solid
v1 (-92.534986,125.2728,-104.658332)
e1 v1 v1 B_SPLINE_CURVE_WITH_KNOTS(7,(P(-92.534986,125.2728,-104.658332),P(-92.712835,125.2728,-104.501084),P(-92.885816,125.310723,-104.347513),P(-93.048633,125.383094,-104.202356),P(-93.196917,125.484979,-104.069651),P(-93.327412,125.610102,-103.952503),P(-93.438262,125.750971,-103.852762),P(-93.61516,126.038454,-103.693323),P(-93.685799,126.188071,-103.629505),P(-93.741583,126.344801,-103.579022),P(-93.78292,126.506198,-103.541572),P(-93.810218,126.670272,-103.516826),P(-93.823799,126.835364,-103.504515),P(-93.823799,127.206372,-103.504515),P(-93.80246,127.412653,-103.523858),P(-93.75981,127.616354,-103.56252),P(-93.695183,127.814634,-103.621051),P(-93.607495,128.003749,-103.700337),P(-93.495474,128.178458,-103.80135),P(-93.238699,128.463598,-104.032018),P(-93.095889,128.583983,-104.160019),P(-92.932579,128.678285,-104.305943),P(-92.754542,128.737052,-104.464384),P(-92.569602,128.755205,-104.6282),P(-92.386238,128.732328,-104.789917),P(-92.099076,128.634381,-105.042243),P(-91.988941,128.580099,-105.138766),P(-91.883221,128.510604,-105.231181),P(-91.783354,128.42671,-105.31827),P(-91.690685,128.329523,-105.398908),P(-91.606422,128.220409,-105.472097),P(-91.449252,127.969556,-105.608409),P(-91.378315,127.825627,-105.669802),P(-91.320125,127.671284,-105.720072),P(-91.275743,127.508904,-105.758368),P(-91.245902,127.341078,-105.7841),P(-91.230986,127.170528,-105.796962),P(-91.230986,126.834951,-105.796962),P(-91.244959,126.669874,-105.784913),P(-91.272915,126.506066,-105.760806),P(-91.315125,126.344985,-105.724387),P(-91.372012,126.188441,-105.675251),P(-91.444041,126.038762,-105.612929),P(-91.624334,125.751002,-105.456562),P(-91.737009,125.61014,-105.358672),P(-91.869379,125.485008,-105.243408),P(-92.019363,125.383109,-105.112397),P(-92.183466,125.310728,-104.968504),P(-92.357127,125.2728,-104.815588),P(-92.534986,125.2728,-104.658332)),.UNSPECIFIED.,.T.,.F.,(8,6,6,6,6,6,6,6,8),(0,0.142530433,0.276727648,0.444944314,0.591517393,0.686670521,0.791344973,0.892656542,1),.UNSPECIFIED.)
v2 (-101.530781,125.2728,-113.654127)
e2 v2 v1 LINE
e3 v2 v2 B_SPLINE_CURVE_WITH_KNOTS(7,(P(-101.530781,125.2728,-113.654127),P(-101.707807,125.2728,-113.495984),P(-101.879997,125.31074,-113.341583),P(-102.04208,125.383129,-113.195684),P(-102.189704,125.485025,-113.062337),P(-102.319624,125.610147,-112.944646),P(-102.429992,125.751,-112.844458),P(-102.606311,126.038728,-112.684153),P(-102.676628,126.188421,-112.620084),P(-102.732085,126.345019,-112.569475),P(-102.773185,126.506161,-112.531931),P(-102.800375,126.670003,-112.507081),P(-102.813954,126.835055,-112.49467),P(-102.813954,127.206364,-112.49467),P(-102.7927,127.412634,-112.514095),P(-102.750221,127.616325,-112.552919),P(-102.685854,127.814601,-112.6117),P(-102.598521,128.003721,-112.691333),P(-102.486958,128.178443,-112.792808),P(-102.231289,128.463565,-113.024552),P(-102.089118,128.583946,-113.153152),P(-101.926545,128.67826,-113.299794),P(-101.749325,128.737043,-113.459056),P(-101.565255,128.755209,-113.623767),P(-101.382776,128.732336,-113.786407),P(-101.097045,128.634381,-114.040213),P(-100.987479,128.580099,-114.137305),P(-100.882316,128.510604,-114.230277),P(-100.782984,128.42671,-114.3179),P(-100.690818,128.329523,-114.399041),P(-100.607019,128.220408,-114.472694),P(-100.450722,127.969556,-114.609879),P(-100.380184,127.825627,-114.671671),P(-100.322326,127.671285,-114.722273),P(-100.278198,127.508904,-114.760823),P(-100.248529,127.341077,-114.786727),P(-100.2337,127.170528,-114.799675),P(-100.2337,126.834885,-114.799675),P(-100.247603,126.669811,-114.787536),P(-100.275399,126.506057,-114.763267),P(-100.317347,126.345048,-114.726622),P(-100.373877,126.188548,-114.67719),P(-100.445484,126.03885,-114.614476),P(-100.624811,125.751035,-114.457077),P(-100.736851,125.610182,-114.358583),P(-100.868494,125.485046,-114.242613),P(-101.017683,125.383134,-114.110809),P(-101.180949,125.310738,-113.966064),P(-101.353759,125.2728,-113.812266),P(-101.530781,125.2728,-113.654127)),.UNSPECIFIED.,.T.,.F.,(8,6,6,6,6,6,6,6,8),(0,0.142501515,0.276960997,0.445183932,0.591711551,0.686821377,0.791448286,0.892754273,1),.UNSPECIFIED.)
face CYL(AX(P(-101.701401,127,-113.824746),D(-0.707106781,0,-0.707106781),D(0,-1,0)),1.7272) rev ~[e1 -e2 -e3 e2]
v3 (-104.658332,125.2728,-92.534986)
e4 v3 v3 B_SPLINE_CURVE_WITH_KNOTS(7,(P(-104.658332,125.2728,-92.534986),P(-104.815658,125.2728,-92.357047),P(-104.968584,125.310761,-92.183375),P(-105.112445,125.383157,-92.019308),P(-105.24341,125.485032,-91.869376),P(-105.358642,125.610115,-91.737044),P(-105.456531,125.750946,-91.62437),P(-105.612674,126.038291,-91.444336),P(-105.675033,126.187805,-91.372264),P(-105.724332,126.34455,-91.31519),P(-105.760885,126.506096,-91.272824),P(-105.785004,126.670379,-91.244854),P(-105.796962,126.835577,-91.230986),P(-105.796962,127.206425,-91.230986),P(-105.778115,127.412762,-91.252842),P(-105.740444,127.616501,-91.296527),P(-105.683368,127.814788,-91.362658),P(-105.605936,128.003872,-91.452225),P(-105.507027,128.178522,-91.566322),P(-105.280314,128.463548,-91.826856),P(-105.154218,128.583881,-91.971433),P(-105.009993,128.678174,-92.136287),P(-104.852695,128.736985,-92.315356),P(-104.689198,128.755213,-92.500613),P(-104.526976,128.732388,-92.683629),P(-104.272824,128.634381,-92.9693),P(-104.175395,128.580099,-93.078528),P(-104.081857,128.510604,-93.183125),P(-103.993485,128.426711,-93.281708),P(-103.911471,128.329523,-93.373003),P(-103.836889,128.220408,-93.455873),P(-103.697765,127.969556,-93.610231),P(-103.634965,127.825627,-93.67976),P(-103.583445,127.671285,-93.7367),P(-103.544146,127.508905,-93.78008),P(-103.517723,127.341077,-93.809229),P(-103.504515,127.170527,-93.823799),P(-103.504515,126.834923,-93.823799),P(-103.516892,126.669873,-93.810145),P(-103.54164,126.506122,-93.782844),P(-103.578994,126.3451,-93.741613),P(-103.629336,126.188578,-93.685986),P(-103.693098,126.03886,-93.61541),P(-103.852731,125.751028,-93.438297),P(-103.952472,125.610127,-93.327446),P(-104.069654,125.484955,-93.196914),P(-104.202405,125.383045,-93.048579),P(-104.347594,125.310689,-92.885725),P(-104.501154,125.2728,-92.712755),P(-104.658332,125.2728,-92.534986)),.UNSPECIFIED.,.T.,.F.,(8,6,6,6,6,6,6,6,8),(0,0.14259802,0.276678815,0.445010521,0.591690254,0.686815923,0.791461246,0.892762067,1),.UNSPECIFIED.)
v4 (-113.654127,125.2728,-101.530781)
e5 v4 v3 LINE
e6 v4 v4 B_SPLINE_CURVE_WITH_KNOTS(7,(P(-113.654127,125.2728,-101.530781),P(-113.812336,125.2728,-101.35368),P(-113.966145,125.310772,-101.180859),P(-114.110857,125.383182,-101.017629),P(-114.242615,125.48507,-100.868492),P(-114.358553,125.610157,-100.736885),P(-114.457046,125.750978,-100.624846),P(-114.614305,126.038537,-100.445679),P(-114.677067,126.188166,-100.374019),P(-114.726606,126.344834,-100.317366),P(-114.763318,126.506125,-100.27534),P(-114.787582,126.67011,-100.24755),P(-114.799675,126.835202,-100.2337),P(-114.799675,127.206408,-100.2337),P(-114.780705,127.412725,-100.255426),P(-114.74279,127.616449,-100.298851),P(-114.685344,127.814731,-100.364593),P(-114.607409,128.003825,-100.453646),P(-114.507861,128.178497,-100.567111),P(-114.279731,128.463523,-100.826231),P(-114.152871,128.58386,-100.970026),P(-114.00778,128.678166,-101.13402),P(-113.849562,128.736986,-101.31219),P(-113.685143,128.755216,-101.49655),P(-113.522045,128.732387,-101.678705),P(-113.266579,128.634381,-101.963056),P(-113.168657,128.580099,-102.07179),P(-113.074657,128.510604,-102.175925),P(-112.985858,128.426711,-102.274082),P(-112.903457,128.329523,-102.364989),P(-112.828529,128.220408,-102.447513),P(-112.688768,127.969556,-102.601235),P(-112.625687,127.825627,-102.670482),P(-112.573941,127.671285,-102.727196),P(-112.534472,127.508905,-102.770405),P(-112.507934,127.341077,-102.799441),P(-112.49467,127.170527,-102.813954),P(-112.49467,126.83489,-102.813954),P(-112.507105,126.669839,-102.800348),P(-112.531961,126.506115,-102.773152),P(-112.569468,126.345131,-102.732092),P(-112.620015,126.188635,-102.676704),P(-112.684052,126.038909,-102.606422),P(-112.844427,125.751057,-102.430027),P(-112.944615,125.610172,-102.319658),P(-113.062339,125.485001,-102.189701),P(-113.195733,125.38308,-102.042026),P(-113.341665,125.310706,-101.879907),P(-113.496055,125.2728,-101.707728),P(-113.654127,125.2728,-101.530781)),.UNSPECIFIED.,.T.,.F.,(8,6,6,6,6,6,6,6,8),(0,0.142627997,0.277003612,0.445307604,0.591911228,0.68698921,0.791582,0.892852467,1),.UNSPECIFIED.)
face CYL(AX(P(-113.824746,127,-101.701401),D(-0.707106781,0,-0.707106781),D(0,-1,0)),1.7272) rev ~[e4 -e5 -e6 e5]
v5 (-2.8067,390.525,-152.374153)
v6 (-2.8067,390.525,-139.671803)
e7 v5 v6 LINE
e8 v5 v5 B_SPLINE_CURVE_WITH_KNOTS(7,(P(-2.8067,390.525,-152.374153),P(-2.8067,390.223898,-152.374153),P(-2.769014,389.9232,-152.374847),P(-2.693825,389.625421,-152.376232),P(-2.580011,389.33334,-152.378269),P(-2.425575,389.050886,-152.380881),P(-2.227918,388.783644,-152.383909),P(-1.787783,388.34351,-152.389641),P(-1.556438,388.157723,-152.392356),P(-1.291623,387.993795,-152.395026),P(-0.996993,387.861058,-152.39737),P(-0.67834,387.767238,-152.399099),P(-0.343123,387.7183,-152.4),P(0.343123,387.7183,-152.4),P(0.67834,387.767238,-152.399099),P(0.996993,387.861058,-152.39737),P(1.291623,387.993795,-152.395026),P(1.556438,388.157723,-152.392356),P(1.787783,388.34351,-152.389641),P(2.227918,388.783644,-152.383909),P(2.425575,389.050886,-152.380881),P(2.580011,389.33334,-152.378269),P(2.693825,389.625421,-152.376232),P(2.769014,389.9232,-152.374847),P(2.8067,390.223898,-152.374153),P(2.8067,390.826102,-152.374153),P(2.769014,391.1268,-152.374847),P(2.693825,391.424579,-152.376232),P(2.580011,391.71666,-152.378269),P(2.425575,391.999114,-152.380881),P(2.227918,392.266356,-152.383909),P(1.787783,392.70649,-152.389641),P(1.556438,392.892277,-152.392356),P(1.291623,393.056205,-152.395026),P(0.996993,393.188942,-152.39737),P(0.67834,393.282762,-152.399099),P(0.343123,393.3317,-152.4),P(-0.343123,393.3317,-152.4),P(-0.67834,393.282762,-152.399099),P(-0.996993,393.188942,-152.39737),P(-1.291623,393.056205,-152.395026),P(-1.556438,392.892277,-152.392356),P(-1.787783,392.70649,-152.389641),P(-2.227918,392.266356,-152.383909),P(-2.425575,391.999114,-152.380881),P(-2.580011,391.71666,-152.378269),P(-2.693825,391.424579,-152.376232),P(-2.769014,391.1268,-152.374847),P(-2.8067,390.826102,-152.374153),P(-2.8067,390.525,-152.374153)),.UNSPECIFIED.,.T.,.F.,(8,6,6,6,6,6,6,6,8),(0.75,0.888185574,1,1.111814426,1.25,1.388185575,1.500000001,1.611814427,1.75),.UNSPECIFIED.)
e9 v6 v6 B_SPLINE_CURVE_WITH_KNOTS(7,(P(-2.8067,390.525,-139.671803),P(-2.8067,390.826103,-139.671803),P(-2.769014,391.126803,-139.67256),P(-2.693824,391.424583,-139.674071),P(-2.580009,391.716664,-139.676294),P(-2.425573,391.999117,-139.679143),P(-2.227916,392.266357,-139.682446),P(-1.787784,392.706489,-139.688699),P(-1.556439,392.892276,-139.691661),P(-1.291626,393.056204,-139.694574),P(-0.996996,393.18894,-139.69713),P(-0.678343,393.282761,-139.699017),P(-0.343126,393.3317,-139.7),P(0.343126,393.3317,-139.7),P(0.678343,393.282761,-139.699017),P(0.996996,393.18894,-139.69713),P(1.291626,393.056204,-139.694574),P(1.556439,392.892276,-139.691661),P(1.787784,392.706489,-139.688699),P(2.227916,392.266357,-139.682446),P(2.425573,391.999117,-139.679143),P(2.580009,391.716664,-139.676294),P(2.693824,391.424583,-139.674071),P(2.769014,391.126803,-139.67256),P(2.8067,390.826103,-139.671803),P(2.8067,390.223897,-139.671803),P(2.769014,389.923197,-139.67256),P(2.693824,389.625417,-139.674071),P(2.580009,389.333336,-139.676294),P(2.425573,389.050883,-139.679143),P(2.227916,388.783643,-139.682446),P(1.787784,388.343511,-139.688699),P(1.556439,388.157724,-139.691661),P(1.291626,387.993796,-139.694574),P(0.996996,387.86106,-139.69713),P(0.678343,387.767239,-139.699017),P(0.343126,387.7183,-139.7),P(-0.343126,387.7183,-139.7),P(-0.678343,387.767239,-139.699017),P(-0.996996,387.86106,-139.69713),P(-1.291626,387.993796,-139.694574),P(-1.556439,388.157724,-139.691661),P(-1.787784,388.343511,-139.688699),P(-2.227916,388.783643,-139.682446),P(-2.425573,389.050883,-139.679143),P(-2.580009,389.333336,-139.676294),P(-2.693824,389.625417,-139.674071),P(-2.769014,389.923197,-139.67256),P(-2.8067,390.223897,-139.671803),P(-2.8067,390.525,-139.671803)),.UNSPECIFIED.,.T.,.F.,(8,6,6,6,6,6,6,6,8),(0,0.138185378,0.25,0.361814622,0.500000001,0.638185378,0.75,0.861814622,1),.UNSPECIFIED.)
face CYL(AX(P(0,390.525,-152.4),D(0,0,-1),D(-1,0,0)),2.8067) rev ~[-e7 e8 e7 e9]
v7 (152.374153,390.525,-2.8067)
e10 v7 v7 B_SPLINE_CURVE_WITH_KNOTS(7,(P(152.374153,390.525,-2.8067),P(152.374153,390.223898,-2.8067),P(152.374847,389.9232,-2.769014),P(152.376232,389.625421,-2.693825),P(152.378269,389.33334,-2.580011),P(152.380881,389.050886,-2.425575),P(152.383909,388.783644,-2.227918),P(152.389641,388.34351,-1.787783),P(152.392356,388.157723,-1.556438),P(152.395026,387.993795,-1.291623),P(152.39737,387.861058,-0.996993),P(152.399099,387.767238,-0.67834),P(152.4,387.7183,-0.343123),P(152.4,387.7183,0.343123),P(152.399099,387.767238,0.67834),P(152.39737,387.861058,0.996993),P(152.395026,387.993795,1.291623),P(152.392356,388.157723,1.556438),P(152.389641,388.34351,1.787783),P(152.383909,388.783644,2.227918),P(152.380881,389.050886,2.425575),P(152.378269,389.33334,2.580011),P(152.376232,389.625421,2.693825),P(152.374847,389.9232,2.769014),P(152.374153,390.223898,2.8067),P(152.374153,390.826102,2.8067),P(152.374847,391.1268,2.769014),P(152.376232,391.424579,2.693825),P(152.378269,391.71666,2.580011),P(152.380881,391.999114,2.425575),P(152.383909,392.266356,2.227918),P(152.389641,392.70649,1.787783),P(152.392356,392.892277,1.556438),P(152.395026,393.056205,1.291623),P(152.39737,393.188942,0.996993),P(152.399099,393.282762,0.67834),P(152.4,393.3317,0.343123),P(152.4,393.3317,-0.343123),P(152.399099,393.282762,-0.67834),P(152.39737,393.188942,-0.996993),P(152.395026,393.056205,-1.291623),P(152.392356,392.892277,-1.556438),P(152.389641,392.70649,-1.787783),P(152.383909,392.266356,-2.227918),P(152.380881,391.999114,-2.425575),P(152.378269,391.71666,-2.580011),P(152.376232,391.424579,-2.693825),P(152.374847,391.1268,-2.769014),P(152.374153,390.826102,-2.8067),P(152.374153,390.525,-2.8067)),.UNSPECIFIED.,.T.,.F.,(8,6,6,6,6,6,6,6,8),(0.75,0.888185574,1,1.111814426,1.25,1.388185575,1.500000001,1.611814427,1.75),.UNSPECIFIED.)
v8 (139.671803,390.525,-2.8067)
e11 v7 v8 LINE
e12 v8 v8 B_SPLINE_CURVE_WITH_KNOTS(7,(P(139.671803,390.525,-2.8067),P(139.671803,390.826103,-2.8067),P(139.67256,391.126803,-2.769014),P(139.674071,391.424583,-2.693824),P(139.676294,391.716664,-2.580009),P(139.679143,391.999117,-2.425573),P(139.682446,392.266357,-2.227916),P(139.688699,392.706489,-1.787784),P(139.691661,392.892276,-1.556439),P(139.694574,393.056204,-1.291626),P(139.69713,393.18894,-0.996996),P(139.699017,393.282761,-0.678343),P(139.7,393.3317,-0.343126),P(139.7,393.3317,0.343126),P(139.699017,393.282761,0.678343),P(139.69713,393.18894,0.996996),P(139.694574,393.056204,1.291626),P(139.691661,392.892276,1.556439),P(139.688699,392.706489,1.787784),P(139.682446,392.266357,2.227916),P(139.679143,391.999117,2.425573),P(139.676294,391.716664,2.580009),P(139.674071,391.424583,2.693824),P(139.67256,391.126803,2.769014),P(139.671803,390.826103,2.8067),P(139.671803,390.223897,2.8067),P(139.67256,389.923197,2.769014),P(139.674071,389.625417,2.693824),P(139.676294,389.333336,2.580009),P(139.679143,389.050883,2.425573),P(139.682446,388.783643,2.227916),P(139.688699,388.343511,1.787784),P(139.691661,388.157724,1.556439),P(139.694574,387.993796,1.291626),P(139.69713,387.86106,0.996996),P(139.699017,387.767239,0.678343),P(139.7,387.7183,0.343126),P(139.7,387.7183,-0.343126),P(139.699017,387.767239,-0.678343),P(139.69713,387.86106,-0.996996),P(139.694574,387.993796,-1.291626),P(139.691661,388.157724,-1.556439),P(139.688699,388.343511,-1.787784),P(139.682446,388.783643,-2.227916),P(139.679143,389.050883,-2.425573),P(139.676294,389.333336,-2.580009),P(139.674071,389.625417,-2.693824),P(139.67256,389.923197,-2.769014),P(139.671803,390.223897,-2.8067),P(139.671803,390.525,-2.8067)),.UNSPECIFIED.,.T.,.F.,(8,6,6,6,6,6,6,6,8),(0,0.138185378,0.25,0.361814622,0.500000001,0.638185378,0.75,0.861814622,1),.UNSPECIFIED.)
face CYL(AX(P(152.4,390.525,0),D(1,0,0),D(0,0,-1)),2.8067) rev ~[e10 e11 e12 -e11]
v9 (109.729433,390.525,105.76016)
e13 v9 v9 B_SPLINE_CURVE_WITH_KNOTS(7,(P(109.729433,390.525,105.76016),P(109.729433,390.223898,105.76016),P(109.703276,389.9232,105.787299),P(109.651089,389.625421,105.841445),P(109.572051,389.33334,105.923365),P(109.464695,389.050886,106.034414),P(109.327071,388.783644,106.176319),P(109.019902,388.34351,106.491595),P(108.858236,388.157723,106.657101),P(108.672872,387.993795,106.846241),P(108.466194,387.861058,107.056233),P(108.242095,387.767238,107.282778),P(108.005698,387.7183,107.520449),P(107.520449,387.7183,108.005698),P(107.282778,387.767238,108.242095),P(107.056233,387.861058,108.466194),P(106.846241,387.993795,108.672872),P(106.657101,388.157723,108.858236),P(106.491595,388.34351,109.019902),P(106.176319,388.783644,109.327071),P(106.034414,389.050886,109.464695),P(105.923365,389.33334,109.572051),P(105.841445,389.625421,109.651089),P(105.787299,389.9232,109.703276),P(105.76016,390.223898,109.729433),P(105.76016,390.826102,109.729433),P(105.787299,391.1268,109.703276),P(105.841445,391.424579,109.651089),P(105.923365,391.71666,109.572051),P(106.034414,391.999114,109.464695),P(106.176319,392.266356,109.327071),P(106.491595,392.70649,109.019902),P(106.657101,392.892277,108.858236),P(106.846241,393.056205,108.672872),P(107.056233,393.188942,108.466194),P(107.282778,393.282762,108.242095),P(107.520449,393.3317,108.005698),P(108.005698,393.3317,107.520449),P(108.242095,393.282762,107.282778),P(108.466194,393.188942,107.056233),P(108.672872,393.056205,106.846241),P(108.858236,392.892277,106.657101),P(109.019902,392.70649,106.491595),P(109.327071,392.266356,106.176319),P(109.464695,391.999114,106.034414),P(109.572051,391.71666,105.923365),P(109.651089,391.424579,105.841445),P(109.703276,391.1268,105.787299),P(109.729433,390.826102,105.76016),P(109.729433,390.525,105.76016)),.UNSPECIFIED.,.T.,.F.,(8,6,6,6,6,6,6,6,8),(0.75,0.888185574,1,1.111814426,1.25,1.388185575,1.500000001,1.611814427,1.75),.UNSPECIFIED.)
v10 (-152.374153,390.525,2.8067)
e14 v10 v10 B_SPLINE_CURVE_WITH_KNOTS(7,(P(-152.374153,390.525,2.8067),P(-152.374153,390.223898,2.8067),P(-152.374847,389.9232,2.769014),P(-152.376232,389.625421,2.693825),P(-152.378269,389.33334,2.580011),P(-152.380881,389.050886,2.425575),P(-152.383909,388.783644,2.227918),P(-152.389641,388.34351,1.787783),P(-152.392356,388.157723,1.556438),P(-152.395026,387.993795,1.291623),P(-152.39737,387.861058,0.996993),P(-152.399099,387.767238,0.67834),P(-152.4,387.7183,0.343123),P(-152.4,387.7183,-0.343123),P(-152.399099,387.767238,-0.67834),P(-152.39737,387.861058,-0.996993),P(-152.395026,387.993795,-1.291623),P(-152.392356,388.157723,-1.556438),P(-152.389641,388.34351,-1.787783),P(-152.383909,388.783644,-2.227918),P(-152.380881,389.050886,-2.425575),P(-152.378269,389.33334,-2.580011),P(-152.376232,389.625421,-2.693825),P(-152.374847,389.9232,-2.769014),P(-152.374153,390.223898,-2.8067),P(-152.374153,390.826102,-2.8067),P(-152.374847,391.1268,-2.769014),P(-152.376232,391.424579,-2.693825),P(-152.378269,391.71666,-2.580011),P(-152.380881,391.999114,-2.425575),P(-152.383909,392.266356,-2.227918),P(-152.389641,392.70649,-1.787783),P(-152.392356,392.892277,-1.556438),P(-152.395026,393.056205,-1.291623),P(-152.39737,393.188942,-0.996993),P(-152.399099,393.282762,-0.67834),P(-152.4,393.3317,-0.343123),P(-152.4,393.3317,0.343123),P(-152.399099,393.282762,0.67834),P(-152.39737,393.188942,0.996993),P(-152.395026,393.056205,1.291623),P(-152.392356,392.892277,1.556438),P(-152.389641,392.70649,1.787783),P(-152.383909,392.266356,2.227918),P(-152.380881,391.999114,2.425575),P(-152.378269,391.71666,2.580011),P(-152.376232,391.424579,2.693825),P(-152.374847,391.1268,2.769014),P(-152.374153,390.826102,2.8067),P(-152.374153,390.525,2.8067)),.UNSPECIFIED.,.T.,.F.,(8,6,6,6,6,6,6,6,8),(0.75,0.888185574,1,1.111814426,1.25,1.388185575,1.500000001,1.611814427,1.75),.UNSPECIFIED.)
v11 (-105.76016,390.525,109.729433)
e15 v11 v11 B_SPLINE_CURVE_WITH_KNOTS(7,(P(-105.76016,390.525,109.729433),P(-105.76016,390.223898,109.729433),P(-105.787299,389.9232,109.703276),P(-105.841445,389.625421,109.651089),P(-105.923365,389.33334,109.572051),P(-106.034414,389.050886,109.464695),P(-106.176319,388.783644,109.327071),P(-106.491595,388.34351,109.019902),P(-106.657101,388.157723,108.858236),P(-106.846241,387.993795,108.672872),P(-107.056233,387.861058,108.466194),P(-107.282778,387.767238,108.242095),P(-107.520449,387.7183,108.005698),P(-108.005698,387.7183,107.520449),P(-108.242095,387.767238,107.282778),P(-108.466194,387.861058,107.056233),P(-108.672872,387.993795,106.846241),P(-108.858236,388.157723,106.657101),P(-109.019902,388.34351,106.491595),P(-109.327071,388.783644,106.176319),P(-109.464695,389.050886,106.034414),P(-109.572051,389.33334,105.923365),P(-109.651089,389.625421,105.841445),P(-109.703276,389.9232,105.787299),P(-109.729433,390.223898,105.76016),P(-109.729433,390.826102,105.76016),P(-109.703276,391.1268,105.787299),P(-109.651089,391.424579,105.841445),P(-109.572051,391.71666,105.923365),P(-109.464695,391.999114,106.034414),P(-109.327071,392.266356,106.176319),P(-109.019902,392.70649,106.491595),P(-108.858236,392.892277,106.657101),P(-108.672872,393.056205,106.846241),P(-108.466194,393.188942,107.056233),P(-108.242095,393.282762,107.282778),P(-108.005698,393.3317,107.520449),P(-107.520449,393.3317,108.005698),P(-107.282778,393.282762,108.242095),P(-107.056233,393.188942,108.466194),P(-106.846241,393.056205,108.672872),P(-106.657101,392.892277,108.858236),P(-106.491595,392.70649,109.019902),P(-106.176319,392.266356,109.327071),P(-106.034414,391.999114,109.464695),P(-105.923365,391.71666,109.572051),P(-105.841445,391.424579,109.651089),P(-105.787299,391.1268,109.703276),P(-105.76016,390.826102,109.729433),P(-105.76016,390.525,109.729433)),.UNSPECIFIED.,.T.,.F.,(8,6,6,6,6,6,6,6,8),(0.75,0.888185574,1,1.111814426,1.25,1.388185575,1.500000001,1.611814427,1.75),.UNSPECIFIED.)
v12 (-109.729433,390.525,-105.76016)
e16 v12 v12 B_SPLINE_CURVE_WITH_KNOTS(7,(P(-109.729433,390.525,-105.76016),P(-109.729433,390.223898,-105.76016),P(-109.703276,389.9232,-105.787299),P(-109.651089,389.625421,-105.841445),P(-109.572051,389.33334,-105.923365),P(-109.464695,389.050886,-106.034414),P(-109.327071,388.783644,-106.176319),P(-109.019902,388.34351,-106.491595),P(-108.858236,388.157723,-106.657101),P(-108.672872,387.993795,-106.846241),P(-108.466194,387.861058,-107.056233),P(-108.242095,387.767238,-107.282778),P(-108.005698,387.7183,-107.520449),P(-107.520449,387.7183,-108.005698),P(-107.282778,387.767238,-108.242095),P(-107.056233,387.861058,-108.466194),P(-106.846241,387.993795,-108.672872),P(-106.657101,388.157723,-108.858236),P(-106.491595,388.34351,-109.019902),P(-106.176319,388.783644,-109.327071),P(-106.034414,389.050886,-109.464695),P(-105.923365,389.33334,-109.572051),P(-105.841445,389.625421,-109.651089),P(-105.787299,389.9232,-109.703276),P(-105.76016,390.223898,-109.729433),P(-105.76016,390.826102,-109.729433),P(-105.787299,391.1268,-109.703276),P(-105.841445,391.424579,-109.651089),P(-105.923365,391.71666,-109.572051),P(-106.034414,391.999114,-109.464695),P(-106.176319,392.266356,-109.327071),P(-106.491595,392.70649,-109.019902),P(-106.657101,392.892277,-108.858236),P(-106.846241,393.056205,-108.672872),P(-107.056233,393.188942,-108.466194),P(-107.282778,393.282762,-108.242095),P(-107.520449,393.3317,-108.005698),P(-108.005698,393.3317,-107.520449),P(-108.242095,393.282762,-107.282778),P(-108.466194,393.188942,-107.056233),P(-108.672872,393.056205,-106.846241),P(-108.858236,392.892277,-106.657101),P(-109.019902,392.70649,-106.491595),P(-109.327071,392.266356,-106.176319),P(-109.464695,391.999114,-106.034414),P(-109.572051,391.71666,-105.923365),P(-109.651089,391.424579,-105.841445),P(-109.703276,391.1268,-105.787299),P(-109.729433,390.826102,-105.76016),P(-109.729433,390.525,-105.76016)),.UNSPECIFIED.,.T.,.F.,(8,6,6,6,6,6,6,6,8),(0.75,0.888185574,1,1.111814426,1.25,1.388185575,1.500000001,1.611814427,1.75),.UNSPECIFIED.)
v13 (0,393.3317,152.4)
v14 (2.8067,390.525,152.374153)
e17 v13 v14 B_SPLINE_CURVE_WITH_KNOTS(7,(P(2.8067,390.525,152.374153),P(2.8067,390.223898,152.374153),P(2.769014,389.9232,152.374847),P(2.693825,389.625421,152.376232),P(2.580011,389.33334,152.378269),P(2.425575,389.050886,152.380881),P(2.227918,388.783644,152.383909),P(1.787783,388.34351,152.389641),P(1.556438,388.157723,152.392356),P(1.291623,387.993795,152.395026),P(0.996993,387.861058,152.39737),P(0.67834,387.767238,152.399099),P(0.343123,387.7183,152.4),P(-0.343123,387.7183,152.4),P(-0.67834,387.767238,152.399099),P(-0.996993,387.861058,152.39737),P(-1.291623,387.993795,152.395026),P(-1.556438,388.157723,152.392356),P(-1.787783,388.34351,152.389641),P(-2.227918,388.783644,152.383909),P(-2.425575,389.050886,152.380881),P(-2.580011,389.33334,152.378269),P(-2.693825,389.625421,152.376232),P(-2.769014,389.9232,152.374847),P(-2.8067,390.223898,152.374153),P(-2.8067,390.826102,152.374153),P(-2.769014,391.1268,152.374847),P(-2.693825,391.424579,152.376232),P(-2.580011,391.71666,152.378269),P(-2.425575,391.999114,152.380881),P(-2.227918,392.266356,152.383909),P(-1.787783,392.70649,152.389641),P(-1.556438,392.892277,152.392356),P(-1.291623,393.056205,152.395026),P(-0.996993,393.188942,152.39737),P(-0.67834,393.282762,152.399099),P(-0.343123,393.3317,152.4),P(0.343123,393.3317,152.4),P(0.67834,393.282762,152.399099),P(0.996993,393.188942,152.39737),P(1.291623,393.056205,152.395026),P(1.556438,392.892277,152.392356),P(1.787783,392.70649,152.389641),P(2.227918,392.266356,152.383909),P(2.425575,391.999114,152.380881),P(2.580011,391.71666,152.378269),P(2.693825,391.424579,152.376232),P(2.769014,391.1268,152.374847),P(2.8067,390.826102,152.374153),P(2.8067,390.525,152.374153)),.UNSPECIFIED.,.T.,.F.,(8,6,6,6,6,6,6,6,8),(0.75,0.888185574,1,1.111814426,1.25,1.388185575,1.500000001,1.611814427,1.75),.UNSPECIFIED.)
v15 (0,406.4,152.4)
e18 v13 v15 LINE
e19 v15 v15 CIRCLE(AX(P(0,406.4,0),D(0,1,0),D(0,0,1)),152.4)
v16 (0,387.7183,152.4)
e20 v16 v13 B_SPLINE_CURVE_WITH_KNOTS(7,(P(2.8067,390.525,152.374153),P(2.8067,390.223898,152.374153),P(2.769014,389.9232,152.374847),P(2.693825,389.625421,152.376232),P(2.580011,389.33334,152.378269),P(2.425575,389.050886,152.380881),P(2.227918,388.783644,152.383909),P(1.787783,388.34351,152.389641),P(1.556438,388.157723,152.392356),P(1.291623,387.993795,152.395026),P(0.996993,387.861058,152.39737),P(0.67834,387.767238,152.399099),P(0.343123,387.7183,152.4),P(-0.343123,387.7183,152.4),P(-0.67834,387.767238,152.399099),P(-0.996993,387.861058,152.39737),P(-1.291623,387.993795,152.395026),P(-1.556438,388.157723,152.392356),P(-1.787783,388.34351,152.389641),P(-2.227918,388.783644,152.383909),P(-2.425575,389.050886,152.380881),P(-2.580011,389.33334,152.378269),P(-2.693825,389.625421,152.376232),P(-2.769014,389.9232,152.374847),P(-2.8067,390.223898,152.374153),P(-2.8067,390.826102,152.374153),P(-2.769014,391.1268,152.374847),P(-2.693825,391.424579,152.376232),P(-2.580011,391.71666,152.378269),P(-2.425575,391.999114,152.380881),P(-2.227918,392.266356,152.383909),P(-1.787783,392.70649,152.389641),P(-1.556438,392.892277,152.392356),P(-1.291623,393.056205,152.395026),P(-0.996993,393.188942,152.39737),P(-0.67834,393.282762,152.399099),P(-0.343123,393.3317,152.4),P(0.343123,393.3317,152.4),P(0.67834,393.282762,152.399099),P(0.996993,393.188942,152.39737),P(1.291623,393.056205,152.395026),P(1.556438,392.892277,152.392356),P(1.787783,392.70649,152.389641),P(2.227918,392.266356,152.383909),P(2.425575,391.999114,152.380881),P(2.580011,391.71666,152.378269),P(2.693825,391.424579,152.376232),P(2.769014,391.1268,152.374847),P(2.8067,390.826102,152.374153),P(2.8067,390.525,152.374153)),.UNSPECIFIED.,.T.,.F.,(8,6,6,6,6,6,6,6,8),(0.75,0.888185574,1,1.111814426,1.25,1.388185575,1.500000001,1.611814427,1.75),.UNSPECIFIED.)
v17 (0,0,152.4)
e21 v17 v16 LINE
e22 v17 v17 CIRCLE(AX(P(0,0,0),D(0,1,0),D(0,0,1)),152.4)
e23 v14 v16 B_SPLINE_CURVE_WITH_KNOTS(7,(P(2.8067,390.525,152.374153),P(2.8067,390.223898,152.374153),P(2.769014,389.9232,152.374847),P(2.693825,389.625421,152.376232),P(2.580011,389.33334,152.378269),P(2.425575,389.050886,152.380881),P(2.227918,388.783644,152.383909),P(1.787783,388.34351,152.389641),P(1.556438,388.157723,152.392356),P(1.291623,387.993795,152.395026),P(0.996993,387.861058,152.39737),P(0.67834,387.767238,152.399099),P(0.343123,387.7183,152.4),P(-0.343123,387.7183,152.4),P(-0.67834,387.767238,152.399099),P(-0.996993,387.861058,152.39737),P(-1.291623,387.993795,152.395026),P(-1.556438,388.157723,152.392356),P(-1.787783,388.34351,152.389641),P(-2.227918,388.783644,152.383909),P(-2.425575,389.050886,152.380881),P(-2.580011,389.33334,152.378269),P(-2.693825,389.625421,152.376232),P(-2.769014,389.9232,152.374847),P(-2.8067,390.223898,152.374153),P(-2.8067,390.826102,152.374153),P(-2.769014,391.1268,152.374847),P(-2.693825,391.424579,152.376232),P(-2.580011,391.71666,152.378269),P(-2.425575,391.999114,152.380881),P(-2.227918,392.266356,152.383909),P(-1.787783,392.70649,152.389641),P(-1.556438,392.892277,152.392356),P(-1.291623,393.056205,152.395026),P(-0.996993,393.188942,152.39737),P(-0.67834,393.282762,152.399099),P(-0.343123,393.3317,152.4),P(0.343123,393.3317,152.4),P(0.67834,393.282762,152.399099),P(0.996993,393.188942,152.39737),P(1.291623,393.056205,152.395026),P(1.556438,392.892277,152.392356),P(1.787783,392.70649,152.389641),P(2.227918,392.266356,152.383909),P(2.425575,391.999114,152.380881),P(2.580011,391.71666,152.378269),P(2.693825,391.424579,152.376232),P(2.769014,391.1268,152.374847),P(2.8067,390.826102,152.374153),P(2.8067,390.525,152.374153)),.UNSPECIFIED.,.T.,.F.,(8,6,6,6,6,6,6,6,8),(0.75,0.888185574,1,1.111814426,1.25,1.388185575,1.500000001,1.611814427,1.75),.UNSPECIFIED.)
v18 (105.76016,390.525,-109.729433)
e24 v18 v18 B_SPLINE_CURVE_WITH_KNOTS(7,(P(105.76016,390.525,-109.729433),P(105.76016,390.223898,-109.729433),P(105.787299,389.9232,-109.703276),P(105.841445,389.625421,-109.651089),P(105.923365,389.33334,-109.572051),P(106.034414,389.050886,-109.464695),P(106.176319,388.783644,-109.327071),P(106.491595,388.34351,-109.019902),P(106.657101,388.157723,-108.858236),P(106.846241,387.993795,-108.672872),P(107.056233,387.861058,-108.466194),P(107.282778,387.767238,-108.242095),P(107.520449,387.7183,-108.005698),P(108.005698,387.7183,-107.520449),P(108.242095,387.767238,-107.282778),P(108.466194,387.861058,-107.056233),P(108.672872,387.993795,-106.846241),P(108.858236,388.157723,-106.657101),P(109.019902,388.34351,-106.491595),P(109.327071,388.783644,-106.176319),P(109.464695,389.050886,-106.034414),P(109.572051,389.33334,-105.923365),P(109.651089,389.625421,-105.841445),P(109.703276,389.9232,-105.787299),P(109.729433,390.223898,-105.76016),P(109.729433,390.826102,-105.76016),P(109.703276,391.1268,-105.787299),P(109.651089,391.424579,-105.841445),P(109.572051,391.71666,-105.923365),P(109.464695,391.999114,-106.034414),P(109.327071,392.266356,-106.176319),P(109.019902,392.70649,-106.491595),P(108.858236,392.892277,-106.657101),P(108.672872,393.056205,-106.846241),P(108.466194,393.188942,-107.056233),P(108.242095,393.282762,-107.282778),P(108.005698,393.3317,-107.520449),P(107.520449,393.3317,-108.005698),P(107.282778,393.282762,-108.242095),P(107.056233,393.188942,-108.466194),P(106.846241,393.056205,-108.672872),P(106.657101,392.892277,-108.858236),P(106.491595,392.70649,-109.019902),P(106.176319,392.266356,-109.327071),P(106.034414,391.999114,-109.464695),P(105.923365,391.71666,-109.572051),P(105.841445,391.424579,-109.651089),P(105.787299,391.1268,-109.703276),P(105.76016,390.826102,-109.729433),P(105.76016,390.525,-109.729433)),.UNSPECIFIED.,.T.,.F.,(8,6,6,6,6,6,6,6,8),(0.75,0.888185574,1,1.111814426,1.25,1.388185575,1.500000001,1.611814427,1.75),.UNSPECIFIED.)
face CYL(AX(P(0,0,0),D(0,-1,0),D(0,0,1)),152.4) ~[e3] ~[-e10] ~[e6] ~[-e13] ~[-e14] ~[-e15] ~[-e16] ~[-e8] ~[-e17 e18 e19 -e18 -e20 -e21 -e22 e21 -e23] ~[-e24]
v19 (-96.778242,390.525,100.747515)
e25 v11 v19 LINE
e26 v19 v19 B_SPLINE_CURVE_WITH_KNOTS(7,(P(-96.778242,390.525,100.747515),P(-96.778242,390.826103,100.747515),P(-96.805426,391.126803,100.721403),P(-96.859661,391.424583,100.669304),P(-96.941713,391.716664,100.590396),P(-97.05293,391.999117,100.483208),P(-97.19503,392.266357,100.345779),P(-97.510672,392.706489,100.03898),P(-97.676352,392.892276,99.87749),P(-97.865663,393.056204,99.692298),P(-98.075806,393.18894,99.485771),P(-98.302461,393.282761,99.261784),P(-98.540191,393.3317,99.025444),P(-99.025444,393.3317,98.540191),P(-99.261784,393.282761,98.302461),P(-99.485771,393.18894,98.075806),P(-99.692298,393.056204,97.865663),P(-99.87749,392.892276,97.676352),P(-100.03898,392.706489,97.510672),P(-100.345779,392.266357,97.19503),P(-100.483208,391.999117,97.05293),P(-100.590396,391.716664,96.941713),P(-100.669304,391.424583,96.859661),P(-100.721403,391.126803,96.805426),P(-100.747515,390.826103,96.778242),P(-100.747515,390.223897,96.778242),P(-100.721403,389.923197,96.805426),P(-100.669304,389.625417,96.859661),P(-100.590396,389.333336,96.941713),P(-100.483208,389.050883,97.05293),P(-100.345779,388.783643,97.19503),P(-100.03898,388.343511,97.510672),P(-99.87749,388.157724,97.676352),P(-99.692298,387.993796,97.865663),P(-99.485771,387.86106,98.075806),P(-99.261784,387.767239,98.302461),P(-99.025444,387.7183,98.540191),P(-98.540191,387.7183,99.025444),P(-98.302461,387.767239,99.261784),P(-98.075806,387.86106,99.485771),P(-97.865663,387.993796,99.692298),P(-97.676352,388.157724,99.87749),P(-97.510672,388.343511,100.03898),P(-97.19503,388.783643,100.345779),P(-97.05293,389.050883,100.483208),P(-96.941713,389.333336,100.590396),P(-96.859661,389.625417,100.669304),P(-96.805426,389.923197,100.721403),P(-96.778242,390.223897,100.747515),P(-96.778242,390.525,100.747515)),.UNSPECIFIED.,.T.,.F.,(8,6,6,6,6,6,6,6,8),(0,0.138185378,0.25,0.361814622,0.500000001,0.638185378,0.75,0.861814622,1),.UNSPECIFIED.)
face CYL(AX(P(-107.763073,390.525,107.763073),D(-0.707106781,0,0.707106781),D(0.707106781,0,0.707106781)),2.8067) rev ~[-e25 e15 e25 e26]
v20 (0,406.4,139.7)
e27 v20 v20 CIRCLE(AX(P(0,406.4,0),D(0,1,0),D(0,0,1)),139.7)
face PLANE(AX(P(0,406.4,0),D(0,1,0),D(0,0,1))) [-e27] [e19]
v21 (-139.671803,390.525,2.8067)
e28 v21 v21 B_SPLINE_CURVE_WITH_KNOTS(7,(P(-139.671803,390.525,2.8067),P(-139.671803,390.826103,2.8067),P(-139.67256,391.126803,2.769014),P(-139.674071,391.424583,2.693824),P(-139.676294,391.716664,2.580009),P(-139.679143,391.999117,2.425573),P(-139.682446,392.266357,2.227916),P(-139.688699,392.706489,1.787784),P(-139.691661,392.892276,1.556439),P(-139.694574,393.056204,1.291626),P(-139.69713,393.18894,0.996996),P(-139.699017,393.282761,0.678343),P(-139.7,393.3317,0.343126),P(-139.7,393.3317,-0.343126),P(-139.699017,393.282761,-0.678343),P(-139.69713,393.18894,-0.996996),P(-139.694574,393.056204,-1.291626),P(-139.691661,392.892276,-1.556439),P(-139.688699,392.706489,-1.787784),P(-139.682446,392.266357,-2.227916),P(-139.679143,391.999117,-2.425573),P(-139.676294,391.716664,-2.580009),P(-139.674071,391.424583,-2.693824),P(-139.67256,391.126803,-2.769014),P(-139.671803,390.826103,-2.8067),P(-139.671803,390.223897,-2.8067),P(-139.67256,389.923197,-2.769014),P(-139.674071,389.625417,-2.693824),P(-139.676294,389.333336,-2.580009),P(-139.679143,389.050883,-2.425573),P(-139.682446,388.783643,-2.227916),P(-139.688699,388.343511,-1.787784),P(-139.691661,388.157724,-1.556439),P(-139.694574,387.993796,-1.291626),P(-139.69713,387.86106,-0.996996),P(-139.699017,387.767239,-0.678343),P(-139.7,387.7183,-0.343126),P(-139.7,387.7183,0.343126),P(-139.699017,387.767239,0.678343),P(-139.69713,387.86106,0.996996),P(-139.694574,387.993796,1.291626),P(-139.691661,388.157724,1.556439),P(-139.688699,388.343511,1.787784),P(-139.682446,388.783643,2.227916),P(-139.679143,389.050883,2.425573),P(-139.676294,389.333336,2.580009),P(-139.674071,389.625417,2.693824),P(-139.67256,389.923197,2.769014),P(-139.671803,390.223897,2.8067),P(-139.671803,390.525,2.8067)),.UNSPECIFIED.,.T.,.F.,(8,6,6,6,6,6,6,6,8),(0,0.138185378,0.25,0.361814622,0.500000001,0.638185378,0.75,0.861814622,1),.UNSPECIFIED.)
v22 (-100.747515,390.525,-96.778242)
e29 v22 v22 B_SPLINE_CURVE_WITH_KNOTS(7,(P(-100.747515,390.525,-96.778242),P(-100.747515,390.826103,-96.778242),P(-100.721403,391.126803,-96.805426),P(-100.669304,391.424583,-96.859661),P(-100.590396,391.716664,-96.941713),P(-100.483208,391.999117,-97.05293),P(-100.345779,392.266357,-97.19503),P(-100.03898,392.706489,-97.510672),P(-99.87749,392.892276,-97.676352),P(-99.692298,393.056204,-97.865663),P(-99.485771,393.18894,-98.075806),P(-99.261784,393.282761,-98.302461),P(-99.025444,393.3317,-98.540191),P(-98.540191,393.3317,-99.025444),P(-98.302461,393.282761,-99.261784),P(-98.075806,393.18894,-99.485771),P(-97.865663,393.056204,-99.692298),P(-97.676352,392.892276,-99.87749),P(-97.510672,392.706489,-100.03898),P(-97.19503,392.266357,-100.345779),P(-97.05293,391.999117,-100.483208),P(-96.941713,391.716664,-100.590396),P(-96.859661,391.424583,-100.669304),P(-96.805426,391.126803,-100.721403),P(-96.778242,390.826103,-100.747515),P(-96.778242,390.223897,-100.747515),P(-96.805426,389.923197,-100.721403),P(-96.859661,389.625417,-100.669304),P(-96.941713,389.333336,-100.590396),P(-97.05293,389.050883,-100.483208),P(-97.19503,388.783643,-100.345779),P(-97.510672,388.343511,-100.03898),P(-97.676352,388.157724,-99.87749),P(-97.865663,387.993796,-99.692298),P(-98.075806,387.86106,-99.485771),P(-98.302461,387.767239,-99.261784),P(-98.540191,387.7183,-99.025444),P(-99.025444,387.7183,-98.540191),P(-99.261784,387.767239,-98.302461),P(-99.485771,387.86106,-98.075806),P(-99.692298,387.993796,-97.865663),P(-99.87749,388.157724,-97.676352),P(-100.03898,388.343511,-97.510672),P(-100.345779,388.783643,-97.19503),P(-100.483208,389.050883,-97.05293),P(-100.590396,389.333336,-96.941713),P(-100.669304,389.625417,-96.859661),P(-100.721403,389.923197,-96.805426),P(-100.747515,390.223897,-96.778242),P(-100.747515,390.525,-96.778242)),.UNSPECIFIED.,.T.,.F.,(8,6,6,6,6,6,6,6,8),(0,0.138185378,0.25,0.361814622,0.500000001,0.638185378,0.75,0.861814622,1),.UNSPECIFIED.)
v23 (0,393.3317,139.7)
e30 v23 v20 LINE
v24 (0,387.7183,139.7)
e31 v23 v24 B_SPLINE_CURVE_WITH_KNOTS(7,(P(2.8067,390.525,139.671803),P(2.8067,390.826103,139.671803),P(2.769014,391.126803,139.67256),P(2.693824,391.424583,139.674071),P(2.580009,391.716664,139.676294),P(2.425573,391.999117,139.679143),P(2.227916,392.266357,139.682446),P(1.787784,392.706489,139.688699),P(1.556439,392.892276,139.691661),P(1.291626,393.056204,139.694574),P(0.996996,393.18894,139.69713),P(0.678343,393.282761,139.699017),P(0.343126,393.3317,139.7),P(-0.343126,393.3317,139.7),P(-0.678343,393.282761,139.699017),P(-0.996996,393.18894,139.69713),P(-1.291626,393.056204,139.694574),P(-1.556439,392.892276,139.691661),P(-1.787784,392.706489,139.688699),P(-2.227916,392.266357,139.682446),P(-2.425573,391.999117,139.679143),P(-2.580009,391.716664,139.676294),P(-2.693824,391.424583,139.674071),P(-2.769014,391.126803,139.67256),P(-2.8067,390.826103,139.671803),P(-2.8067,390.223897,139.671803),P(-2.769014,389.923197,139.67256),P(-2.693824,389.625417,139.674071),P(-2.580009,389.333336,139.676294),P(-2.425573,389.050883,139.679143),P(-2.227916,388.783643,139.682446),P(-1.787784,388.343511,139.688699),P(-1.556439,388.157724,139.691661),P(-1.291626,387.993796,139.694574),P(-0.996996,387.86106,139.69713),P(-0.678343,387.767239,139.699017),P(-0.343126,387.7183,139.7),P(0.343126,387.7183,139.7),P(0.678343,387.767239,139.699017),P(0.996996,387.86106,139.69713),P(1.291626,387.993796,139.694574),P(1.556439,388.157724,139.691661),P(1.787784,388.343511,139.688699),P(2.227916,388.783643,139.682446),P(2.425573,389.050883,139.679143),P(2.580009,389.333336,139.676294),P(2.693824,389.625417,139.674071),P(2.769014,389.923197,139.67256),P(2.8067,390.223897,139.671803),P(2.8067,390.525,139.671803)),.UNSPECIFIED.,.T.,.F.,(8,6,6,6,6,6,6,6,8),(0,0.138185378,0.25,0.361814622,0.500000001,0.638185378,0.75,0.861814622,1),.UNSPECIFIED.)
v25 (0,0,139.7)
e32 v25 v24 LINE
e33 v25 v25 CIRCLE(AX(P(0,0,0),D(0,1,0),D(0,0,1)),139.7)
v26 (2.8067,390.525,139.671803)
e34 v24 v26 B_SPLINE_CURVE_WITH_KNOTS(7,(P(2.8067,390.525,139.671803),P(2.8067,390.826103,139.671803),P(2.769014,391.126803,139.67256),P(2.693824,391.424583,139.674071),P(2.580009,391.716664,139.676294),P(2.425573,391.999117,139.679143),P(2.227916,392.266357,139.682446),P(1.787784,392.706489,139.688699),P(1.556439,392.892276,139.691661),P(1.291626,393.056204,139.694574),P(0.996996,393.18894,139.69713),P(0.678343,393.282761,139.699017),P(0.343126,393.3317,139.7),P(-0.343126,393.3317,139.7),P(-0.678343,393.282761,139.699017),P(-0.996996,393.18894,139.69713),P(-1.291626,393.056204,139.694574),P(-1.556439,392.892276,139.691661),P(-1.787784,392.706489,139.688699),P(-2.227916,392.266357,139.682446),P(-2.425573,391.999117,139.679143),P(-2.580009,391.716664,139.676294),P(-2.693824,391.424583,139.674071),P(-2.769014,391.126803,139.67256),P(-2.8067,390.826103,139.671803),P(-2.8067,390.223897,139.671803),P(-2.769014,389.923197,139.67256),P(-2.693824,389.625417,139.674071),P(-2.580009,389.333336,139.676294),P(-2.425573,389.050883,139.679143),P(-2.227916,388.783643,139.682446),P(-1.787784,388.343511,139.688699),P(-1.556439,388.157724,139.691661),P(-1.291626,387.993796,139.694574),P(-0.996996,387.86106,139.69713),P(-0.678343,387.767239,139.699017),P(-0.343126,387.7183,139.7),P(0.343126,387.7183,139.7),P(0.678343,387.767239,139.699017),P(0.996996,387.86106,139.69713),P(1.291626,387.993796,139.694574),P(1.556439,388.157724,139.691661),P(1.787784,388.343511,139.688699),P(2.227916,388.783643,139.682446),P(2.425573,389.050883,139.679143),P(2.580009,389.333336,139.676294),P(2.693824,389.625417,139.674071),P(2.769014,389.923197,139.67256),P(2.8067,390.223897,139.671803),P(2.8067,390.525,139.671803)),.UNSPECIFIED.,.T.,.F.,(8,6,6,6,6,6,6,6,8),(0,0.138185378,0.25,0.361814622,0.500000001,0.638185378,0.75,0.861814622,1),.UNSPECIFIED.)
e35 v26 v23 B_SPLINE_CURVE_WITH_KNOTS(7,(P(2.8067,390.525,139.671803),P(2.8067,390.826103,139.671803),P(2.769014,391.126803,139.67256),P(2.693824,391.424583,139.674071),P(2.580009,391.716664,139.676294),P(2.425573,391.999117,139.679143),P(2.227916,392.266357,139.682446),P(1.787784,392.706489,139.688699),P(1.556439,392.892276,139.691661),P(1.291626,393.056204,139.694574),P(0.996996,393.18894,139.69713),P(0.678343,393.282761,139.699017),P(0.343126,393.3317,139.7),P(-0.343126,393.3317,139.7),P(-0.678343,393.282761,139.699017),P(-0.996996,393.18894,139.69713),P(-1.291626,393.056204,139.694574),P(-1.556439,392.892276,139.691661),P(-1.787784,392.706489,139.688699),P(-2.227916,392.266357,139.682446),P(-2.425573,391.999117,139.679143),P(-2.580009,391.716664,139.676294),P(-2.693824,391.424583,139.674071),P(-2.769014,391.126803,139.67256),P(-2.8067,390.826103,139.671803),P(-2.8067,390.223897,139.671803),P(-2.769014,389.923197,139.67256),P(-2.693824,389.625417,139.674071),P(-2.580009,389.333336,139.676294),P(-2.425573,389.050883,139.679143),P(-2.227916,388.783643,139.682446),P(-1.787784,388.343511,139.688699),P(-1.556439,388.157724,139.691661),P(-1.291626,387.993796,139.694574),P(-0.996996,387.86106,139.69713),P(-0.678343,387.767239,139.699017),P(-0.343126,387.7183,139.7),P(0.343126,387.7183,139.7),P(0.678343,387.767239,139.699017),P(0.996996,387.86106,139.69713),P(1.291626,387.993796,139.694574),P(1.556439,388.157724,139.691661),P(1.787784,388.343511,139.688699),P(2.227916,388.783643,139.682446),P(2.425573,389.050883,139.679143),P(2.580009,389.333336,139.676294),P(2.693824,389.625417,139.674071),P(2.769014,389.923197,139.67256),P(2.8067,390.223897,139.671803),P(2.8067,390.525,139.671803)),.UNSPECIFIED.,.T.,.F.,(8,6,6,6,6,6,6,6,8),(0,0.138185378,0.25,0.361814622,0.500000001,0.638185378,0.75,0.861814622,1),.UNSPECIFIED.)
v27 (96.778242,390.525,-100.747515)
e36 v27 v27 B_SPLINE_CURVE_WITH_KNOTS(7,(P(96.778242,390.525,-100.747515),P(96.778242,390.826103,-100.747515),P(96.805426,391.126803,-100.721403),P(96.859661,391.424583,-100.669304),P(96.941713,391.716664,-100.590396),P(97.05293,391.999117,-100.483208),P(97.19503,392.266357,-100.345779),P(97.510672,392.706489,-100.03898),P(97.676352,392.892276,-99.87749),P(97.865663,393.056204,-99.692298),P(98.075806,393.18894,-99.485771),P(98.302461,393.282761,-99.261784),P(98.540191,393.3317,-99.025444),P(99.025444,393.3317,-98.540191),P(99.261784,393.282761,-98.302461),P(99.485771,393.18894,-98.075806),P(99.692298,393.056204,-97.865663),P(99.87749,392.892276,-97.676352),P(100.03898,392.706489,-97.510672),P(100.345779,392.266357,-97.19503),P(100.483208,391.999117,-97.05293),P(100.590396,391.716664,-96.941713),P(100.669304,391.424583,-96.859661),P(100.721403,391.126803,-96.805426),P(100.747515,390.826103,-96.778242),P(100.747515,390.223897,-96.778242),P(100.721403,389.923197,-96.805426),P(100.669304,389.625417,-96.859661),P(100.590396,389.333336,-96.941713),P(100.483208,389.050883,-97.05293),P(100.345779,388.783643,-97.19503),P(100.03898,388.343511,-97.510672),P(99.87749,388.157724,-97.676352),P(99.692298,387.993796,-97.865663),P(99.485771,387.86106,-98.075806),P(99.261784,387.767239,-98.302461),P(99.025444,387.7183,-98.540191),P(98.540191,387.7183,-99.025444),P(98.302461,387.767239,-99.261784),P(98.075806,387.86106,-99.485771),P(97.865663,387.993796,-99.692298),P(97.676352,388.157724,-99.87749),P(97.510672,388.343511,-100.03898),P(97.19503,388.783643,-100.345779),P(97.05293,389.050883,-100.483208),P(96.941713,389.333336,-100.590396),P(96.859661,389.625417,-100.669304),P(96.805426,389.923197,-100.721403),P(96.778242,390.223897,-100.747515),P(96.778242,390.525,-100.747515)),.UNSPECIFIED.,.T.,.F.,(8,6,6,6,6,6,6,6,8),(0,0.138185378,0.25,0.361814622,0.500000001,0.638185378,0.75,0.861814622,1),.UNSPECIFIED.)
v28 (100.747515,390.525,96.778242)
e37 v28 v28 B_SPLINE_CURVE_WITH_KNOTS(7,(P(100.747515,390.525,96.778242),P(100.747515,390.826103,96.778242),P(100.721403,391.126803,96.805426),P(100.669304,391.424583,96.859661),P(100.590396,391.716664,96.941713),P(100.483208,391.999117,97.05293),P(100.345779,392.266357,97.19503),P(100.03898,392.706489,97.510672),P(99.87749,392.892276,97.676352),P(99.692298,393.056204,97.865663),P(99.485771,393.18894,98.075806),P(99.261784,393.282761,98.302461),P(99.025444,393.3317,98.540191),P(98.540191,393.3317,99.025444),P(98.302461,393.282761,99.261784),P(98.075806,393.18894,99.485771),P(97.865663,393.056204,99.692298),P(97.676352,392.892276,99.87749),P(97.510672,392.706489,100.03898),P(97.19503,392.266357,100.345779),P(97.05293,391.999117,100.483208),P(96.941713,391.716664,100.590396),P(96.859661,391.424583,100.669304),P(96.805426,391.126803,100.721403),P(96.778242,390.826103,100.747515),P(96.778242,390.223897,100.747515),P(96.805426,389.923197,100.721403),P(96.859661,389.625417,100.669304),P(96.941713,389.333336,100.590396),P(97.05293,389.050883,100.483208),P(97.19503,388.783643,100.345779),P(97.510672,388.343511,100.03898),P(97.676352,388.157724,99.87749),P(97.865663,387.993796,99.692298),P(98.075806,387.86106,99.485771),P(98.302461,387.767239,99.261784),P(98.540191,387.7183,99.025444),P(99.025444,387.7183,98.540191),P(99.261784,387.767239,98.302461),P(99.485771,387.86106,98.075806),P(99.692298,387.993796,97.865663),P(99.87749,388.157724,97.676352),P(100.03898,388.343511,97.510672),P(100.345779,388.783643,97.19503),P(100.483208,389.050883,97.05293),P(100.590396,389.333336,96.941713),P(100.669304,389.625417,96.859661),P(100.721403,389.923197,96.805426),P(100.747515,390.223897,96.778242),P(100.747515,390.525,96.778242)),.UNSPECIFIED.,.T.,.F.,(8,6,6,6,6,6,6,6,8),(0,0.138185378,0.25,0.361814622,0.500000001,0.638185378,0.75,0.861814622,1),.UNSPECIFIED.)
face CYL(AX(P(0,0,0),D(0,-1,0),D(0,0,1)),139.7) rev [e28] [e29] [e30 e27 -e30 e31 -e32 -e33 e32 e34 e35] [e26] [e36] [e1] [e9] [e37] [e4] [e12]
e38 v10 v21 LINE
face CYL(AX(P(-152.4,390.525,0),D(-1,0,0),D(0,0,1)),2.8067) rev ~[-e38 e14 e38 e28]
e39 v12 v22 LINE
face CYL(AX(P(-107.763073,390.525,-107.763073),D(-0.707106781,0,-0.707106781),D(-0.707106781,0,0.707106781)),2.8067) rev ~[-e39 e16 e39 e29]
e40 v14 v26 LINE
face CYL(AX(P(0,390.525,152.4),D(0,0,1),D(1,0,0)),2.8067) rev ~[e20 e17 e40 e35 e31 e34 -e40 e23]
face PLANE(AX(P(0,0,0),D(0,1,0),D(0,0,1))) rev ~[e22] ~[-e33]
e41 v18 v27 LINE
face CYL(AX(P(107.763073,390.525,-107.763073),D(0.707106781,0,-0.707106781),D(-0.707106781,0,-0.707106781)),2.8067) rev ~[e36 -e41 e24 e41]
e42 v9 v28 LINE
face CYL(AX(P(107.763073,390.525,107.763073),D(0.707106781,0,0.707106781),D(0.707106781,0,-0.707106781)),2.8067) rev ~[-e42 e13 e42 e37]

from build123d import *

# Parameters (mm, degrees)
SKETCH1_R                   = 152.4
SKETCH1_R_2                 = 139.7
BOSS_EXTRUDE1_DEPTH         = 406.4
F_10_CLEARANCE_HOLE1_REACH  = 532.368
F_10_CLEARANCE_HOLE1_BORE_R = 2.8067
CIRPATTERN1_COUNT           = 8
F_8_32_TAPPED_HOLE1_REACH   = 550.207
F_8_32_TAPPED_HOLE1_BORE_R  = 1.7272


with BuildPart() as part:
    # Sketch1 → Boss-Extrude1 (new body)
    with BuildSketch(Plane(origin=(0, 0, 0), x_dir=(1, 0, 0), z_dir=(0, 1, 0))):
        with Locations(Location((0, 0, 0), (0, 0, 270))):
            Circle(SKETCH1_R)
        with Locations(Location((0, 0, 0), (0, 0, 270))):
            Circle(SKETCH1_R_2, mode=Mode.SUBTRACT)
    extrude(amount=BOSS_EXTRUDE1_DEPTH)

    # #10 Clearance Hole1 bore → #10 Clearance Hole1 (cut, up to next)
    with BuildSketch(Plane(origin=(152.4, 0, 0), x_dir=(0, 0, -1), z_dir=(1, 0, 0)), mode=Mode.PRIVATE) as f_10_clearance_hole1_sk1:
        with Locations((0, 390.525)):
            Circle(F_10_CLEARANCE_HOLE1_BORE_R)
    f_10_clearance_hole1_tool1 = extrude(f_10_clearance_hole1_sk1.sketch, amount=-F_10_CLEARANCE_HOLE1_REACH, mode=Mode.PRIVATE) & part.part
    f_10_clearance_hole1 = f_10_clearance_hole1_tool1.solids().sort_by_distance((152.4, 390.525, 0))[0]
    add(f_10_clearance_hole1, mode=Mode.SUBTRACT)

    # CirPattern1: #10 Clearance Hole1 ×8 about axis
    cirpattern1_axis = Axis((0, 406.4, 0), (0, 1, 0))
    for i in range(1, CIRPATTERN1_COUNT):
        add(f_10_clearance_hole1.rotate(cirpattern1_axis, i * 360 / CIRPATTERN1_COUNT), mode=Mode.SUBTRACT)

    # #8-32 Tapped Hole1 bore → #8-32 Tapped Hole1 (cut, up to next)
    with BuildSketch(Plane(origin=(-107.763073453, 0, -107.763073453), x_dir=(0, -1, 0), z_dir=(-0.7071067811865464, 0, -0.7071067811865488)), mode=Mode.PRIVATE) as f_8_32_tapped_hole1_sk1:
        with Locations((-127, -8.5725)):
            Circle(F_8_32_TAPPED_HOLE1_BORE_R)
    f_8_32_tapped_hole1_tool1 = extrude(f_8_32_tapped_hole1_sk1.sketch, amount=-F_8_32_TAPPED_HOLE1_REACH, mode=Mode.PRIVATE) & part.part
    # #8-32 Tapped Hole1 bore → #8-32 Tapped Hole1 (cut, up to next)
    with BuildSketch(Plane(origin=(-107.763073453, 0, -107.763073453), x_dir=(0, -1, 0), z_dir=(-0.7071067811865464, 0, -0.7071067811865488)), mode=Mode.PRIVATE) as f_8_32_tapped_hole1_sk2:
        with Locations((-127, 8.5725)):
            Circle(F_8_32_TAPPED_HOLE1_BORE_R)
    f_8_32_tapped_hole1_tool2 = extrude(f_8_32_tapped_hole1_sk2.sketch, amount=-F_8_32_TAPPED_HOLE1_REACH, mode=Mode.PRIVATE) & part.part
    add(f_8_32_tapped_hole1_tool1.solids().sort_by_distance((-101.701401, 127, -113.824746))[0], mode=Mode.SUBTRACT)
    add(f_8_32_tapped_hole1_tool2.solids().sort_by_distance((-113.824746, 127, -101.701401))[0], mode=Mode.SUBTRACT)


solid = part.part
